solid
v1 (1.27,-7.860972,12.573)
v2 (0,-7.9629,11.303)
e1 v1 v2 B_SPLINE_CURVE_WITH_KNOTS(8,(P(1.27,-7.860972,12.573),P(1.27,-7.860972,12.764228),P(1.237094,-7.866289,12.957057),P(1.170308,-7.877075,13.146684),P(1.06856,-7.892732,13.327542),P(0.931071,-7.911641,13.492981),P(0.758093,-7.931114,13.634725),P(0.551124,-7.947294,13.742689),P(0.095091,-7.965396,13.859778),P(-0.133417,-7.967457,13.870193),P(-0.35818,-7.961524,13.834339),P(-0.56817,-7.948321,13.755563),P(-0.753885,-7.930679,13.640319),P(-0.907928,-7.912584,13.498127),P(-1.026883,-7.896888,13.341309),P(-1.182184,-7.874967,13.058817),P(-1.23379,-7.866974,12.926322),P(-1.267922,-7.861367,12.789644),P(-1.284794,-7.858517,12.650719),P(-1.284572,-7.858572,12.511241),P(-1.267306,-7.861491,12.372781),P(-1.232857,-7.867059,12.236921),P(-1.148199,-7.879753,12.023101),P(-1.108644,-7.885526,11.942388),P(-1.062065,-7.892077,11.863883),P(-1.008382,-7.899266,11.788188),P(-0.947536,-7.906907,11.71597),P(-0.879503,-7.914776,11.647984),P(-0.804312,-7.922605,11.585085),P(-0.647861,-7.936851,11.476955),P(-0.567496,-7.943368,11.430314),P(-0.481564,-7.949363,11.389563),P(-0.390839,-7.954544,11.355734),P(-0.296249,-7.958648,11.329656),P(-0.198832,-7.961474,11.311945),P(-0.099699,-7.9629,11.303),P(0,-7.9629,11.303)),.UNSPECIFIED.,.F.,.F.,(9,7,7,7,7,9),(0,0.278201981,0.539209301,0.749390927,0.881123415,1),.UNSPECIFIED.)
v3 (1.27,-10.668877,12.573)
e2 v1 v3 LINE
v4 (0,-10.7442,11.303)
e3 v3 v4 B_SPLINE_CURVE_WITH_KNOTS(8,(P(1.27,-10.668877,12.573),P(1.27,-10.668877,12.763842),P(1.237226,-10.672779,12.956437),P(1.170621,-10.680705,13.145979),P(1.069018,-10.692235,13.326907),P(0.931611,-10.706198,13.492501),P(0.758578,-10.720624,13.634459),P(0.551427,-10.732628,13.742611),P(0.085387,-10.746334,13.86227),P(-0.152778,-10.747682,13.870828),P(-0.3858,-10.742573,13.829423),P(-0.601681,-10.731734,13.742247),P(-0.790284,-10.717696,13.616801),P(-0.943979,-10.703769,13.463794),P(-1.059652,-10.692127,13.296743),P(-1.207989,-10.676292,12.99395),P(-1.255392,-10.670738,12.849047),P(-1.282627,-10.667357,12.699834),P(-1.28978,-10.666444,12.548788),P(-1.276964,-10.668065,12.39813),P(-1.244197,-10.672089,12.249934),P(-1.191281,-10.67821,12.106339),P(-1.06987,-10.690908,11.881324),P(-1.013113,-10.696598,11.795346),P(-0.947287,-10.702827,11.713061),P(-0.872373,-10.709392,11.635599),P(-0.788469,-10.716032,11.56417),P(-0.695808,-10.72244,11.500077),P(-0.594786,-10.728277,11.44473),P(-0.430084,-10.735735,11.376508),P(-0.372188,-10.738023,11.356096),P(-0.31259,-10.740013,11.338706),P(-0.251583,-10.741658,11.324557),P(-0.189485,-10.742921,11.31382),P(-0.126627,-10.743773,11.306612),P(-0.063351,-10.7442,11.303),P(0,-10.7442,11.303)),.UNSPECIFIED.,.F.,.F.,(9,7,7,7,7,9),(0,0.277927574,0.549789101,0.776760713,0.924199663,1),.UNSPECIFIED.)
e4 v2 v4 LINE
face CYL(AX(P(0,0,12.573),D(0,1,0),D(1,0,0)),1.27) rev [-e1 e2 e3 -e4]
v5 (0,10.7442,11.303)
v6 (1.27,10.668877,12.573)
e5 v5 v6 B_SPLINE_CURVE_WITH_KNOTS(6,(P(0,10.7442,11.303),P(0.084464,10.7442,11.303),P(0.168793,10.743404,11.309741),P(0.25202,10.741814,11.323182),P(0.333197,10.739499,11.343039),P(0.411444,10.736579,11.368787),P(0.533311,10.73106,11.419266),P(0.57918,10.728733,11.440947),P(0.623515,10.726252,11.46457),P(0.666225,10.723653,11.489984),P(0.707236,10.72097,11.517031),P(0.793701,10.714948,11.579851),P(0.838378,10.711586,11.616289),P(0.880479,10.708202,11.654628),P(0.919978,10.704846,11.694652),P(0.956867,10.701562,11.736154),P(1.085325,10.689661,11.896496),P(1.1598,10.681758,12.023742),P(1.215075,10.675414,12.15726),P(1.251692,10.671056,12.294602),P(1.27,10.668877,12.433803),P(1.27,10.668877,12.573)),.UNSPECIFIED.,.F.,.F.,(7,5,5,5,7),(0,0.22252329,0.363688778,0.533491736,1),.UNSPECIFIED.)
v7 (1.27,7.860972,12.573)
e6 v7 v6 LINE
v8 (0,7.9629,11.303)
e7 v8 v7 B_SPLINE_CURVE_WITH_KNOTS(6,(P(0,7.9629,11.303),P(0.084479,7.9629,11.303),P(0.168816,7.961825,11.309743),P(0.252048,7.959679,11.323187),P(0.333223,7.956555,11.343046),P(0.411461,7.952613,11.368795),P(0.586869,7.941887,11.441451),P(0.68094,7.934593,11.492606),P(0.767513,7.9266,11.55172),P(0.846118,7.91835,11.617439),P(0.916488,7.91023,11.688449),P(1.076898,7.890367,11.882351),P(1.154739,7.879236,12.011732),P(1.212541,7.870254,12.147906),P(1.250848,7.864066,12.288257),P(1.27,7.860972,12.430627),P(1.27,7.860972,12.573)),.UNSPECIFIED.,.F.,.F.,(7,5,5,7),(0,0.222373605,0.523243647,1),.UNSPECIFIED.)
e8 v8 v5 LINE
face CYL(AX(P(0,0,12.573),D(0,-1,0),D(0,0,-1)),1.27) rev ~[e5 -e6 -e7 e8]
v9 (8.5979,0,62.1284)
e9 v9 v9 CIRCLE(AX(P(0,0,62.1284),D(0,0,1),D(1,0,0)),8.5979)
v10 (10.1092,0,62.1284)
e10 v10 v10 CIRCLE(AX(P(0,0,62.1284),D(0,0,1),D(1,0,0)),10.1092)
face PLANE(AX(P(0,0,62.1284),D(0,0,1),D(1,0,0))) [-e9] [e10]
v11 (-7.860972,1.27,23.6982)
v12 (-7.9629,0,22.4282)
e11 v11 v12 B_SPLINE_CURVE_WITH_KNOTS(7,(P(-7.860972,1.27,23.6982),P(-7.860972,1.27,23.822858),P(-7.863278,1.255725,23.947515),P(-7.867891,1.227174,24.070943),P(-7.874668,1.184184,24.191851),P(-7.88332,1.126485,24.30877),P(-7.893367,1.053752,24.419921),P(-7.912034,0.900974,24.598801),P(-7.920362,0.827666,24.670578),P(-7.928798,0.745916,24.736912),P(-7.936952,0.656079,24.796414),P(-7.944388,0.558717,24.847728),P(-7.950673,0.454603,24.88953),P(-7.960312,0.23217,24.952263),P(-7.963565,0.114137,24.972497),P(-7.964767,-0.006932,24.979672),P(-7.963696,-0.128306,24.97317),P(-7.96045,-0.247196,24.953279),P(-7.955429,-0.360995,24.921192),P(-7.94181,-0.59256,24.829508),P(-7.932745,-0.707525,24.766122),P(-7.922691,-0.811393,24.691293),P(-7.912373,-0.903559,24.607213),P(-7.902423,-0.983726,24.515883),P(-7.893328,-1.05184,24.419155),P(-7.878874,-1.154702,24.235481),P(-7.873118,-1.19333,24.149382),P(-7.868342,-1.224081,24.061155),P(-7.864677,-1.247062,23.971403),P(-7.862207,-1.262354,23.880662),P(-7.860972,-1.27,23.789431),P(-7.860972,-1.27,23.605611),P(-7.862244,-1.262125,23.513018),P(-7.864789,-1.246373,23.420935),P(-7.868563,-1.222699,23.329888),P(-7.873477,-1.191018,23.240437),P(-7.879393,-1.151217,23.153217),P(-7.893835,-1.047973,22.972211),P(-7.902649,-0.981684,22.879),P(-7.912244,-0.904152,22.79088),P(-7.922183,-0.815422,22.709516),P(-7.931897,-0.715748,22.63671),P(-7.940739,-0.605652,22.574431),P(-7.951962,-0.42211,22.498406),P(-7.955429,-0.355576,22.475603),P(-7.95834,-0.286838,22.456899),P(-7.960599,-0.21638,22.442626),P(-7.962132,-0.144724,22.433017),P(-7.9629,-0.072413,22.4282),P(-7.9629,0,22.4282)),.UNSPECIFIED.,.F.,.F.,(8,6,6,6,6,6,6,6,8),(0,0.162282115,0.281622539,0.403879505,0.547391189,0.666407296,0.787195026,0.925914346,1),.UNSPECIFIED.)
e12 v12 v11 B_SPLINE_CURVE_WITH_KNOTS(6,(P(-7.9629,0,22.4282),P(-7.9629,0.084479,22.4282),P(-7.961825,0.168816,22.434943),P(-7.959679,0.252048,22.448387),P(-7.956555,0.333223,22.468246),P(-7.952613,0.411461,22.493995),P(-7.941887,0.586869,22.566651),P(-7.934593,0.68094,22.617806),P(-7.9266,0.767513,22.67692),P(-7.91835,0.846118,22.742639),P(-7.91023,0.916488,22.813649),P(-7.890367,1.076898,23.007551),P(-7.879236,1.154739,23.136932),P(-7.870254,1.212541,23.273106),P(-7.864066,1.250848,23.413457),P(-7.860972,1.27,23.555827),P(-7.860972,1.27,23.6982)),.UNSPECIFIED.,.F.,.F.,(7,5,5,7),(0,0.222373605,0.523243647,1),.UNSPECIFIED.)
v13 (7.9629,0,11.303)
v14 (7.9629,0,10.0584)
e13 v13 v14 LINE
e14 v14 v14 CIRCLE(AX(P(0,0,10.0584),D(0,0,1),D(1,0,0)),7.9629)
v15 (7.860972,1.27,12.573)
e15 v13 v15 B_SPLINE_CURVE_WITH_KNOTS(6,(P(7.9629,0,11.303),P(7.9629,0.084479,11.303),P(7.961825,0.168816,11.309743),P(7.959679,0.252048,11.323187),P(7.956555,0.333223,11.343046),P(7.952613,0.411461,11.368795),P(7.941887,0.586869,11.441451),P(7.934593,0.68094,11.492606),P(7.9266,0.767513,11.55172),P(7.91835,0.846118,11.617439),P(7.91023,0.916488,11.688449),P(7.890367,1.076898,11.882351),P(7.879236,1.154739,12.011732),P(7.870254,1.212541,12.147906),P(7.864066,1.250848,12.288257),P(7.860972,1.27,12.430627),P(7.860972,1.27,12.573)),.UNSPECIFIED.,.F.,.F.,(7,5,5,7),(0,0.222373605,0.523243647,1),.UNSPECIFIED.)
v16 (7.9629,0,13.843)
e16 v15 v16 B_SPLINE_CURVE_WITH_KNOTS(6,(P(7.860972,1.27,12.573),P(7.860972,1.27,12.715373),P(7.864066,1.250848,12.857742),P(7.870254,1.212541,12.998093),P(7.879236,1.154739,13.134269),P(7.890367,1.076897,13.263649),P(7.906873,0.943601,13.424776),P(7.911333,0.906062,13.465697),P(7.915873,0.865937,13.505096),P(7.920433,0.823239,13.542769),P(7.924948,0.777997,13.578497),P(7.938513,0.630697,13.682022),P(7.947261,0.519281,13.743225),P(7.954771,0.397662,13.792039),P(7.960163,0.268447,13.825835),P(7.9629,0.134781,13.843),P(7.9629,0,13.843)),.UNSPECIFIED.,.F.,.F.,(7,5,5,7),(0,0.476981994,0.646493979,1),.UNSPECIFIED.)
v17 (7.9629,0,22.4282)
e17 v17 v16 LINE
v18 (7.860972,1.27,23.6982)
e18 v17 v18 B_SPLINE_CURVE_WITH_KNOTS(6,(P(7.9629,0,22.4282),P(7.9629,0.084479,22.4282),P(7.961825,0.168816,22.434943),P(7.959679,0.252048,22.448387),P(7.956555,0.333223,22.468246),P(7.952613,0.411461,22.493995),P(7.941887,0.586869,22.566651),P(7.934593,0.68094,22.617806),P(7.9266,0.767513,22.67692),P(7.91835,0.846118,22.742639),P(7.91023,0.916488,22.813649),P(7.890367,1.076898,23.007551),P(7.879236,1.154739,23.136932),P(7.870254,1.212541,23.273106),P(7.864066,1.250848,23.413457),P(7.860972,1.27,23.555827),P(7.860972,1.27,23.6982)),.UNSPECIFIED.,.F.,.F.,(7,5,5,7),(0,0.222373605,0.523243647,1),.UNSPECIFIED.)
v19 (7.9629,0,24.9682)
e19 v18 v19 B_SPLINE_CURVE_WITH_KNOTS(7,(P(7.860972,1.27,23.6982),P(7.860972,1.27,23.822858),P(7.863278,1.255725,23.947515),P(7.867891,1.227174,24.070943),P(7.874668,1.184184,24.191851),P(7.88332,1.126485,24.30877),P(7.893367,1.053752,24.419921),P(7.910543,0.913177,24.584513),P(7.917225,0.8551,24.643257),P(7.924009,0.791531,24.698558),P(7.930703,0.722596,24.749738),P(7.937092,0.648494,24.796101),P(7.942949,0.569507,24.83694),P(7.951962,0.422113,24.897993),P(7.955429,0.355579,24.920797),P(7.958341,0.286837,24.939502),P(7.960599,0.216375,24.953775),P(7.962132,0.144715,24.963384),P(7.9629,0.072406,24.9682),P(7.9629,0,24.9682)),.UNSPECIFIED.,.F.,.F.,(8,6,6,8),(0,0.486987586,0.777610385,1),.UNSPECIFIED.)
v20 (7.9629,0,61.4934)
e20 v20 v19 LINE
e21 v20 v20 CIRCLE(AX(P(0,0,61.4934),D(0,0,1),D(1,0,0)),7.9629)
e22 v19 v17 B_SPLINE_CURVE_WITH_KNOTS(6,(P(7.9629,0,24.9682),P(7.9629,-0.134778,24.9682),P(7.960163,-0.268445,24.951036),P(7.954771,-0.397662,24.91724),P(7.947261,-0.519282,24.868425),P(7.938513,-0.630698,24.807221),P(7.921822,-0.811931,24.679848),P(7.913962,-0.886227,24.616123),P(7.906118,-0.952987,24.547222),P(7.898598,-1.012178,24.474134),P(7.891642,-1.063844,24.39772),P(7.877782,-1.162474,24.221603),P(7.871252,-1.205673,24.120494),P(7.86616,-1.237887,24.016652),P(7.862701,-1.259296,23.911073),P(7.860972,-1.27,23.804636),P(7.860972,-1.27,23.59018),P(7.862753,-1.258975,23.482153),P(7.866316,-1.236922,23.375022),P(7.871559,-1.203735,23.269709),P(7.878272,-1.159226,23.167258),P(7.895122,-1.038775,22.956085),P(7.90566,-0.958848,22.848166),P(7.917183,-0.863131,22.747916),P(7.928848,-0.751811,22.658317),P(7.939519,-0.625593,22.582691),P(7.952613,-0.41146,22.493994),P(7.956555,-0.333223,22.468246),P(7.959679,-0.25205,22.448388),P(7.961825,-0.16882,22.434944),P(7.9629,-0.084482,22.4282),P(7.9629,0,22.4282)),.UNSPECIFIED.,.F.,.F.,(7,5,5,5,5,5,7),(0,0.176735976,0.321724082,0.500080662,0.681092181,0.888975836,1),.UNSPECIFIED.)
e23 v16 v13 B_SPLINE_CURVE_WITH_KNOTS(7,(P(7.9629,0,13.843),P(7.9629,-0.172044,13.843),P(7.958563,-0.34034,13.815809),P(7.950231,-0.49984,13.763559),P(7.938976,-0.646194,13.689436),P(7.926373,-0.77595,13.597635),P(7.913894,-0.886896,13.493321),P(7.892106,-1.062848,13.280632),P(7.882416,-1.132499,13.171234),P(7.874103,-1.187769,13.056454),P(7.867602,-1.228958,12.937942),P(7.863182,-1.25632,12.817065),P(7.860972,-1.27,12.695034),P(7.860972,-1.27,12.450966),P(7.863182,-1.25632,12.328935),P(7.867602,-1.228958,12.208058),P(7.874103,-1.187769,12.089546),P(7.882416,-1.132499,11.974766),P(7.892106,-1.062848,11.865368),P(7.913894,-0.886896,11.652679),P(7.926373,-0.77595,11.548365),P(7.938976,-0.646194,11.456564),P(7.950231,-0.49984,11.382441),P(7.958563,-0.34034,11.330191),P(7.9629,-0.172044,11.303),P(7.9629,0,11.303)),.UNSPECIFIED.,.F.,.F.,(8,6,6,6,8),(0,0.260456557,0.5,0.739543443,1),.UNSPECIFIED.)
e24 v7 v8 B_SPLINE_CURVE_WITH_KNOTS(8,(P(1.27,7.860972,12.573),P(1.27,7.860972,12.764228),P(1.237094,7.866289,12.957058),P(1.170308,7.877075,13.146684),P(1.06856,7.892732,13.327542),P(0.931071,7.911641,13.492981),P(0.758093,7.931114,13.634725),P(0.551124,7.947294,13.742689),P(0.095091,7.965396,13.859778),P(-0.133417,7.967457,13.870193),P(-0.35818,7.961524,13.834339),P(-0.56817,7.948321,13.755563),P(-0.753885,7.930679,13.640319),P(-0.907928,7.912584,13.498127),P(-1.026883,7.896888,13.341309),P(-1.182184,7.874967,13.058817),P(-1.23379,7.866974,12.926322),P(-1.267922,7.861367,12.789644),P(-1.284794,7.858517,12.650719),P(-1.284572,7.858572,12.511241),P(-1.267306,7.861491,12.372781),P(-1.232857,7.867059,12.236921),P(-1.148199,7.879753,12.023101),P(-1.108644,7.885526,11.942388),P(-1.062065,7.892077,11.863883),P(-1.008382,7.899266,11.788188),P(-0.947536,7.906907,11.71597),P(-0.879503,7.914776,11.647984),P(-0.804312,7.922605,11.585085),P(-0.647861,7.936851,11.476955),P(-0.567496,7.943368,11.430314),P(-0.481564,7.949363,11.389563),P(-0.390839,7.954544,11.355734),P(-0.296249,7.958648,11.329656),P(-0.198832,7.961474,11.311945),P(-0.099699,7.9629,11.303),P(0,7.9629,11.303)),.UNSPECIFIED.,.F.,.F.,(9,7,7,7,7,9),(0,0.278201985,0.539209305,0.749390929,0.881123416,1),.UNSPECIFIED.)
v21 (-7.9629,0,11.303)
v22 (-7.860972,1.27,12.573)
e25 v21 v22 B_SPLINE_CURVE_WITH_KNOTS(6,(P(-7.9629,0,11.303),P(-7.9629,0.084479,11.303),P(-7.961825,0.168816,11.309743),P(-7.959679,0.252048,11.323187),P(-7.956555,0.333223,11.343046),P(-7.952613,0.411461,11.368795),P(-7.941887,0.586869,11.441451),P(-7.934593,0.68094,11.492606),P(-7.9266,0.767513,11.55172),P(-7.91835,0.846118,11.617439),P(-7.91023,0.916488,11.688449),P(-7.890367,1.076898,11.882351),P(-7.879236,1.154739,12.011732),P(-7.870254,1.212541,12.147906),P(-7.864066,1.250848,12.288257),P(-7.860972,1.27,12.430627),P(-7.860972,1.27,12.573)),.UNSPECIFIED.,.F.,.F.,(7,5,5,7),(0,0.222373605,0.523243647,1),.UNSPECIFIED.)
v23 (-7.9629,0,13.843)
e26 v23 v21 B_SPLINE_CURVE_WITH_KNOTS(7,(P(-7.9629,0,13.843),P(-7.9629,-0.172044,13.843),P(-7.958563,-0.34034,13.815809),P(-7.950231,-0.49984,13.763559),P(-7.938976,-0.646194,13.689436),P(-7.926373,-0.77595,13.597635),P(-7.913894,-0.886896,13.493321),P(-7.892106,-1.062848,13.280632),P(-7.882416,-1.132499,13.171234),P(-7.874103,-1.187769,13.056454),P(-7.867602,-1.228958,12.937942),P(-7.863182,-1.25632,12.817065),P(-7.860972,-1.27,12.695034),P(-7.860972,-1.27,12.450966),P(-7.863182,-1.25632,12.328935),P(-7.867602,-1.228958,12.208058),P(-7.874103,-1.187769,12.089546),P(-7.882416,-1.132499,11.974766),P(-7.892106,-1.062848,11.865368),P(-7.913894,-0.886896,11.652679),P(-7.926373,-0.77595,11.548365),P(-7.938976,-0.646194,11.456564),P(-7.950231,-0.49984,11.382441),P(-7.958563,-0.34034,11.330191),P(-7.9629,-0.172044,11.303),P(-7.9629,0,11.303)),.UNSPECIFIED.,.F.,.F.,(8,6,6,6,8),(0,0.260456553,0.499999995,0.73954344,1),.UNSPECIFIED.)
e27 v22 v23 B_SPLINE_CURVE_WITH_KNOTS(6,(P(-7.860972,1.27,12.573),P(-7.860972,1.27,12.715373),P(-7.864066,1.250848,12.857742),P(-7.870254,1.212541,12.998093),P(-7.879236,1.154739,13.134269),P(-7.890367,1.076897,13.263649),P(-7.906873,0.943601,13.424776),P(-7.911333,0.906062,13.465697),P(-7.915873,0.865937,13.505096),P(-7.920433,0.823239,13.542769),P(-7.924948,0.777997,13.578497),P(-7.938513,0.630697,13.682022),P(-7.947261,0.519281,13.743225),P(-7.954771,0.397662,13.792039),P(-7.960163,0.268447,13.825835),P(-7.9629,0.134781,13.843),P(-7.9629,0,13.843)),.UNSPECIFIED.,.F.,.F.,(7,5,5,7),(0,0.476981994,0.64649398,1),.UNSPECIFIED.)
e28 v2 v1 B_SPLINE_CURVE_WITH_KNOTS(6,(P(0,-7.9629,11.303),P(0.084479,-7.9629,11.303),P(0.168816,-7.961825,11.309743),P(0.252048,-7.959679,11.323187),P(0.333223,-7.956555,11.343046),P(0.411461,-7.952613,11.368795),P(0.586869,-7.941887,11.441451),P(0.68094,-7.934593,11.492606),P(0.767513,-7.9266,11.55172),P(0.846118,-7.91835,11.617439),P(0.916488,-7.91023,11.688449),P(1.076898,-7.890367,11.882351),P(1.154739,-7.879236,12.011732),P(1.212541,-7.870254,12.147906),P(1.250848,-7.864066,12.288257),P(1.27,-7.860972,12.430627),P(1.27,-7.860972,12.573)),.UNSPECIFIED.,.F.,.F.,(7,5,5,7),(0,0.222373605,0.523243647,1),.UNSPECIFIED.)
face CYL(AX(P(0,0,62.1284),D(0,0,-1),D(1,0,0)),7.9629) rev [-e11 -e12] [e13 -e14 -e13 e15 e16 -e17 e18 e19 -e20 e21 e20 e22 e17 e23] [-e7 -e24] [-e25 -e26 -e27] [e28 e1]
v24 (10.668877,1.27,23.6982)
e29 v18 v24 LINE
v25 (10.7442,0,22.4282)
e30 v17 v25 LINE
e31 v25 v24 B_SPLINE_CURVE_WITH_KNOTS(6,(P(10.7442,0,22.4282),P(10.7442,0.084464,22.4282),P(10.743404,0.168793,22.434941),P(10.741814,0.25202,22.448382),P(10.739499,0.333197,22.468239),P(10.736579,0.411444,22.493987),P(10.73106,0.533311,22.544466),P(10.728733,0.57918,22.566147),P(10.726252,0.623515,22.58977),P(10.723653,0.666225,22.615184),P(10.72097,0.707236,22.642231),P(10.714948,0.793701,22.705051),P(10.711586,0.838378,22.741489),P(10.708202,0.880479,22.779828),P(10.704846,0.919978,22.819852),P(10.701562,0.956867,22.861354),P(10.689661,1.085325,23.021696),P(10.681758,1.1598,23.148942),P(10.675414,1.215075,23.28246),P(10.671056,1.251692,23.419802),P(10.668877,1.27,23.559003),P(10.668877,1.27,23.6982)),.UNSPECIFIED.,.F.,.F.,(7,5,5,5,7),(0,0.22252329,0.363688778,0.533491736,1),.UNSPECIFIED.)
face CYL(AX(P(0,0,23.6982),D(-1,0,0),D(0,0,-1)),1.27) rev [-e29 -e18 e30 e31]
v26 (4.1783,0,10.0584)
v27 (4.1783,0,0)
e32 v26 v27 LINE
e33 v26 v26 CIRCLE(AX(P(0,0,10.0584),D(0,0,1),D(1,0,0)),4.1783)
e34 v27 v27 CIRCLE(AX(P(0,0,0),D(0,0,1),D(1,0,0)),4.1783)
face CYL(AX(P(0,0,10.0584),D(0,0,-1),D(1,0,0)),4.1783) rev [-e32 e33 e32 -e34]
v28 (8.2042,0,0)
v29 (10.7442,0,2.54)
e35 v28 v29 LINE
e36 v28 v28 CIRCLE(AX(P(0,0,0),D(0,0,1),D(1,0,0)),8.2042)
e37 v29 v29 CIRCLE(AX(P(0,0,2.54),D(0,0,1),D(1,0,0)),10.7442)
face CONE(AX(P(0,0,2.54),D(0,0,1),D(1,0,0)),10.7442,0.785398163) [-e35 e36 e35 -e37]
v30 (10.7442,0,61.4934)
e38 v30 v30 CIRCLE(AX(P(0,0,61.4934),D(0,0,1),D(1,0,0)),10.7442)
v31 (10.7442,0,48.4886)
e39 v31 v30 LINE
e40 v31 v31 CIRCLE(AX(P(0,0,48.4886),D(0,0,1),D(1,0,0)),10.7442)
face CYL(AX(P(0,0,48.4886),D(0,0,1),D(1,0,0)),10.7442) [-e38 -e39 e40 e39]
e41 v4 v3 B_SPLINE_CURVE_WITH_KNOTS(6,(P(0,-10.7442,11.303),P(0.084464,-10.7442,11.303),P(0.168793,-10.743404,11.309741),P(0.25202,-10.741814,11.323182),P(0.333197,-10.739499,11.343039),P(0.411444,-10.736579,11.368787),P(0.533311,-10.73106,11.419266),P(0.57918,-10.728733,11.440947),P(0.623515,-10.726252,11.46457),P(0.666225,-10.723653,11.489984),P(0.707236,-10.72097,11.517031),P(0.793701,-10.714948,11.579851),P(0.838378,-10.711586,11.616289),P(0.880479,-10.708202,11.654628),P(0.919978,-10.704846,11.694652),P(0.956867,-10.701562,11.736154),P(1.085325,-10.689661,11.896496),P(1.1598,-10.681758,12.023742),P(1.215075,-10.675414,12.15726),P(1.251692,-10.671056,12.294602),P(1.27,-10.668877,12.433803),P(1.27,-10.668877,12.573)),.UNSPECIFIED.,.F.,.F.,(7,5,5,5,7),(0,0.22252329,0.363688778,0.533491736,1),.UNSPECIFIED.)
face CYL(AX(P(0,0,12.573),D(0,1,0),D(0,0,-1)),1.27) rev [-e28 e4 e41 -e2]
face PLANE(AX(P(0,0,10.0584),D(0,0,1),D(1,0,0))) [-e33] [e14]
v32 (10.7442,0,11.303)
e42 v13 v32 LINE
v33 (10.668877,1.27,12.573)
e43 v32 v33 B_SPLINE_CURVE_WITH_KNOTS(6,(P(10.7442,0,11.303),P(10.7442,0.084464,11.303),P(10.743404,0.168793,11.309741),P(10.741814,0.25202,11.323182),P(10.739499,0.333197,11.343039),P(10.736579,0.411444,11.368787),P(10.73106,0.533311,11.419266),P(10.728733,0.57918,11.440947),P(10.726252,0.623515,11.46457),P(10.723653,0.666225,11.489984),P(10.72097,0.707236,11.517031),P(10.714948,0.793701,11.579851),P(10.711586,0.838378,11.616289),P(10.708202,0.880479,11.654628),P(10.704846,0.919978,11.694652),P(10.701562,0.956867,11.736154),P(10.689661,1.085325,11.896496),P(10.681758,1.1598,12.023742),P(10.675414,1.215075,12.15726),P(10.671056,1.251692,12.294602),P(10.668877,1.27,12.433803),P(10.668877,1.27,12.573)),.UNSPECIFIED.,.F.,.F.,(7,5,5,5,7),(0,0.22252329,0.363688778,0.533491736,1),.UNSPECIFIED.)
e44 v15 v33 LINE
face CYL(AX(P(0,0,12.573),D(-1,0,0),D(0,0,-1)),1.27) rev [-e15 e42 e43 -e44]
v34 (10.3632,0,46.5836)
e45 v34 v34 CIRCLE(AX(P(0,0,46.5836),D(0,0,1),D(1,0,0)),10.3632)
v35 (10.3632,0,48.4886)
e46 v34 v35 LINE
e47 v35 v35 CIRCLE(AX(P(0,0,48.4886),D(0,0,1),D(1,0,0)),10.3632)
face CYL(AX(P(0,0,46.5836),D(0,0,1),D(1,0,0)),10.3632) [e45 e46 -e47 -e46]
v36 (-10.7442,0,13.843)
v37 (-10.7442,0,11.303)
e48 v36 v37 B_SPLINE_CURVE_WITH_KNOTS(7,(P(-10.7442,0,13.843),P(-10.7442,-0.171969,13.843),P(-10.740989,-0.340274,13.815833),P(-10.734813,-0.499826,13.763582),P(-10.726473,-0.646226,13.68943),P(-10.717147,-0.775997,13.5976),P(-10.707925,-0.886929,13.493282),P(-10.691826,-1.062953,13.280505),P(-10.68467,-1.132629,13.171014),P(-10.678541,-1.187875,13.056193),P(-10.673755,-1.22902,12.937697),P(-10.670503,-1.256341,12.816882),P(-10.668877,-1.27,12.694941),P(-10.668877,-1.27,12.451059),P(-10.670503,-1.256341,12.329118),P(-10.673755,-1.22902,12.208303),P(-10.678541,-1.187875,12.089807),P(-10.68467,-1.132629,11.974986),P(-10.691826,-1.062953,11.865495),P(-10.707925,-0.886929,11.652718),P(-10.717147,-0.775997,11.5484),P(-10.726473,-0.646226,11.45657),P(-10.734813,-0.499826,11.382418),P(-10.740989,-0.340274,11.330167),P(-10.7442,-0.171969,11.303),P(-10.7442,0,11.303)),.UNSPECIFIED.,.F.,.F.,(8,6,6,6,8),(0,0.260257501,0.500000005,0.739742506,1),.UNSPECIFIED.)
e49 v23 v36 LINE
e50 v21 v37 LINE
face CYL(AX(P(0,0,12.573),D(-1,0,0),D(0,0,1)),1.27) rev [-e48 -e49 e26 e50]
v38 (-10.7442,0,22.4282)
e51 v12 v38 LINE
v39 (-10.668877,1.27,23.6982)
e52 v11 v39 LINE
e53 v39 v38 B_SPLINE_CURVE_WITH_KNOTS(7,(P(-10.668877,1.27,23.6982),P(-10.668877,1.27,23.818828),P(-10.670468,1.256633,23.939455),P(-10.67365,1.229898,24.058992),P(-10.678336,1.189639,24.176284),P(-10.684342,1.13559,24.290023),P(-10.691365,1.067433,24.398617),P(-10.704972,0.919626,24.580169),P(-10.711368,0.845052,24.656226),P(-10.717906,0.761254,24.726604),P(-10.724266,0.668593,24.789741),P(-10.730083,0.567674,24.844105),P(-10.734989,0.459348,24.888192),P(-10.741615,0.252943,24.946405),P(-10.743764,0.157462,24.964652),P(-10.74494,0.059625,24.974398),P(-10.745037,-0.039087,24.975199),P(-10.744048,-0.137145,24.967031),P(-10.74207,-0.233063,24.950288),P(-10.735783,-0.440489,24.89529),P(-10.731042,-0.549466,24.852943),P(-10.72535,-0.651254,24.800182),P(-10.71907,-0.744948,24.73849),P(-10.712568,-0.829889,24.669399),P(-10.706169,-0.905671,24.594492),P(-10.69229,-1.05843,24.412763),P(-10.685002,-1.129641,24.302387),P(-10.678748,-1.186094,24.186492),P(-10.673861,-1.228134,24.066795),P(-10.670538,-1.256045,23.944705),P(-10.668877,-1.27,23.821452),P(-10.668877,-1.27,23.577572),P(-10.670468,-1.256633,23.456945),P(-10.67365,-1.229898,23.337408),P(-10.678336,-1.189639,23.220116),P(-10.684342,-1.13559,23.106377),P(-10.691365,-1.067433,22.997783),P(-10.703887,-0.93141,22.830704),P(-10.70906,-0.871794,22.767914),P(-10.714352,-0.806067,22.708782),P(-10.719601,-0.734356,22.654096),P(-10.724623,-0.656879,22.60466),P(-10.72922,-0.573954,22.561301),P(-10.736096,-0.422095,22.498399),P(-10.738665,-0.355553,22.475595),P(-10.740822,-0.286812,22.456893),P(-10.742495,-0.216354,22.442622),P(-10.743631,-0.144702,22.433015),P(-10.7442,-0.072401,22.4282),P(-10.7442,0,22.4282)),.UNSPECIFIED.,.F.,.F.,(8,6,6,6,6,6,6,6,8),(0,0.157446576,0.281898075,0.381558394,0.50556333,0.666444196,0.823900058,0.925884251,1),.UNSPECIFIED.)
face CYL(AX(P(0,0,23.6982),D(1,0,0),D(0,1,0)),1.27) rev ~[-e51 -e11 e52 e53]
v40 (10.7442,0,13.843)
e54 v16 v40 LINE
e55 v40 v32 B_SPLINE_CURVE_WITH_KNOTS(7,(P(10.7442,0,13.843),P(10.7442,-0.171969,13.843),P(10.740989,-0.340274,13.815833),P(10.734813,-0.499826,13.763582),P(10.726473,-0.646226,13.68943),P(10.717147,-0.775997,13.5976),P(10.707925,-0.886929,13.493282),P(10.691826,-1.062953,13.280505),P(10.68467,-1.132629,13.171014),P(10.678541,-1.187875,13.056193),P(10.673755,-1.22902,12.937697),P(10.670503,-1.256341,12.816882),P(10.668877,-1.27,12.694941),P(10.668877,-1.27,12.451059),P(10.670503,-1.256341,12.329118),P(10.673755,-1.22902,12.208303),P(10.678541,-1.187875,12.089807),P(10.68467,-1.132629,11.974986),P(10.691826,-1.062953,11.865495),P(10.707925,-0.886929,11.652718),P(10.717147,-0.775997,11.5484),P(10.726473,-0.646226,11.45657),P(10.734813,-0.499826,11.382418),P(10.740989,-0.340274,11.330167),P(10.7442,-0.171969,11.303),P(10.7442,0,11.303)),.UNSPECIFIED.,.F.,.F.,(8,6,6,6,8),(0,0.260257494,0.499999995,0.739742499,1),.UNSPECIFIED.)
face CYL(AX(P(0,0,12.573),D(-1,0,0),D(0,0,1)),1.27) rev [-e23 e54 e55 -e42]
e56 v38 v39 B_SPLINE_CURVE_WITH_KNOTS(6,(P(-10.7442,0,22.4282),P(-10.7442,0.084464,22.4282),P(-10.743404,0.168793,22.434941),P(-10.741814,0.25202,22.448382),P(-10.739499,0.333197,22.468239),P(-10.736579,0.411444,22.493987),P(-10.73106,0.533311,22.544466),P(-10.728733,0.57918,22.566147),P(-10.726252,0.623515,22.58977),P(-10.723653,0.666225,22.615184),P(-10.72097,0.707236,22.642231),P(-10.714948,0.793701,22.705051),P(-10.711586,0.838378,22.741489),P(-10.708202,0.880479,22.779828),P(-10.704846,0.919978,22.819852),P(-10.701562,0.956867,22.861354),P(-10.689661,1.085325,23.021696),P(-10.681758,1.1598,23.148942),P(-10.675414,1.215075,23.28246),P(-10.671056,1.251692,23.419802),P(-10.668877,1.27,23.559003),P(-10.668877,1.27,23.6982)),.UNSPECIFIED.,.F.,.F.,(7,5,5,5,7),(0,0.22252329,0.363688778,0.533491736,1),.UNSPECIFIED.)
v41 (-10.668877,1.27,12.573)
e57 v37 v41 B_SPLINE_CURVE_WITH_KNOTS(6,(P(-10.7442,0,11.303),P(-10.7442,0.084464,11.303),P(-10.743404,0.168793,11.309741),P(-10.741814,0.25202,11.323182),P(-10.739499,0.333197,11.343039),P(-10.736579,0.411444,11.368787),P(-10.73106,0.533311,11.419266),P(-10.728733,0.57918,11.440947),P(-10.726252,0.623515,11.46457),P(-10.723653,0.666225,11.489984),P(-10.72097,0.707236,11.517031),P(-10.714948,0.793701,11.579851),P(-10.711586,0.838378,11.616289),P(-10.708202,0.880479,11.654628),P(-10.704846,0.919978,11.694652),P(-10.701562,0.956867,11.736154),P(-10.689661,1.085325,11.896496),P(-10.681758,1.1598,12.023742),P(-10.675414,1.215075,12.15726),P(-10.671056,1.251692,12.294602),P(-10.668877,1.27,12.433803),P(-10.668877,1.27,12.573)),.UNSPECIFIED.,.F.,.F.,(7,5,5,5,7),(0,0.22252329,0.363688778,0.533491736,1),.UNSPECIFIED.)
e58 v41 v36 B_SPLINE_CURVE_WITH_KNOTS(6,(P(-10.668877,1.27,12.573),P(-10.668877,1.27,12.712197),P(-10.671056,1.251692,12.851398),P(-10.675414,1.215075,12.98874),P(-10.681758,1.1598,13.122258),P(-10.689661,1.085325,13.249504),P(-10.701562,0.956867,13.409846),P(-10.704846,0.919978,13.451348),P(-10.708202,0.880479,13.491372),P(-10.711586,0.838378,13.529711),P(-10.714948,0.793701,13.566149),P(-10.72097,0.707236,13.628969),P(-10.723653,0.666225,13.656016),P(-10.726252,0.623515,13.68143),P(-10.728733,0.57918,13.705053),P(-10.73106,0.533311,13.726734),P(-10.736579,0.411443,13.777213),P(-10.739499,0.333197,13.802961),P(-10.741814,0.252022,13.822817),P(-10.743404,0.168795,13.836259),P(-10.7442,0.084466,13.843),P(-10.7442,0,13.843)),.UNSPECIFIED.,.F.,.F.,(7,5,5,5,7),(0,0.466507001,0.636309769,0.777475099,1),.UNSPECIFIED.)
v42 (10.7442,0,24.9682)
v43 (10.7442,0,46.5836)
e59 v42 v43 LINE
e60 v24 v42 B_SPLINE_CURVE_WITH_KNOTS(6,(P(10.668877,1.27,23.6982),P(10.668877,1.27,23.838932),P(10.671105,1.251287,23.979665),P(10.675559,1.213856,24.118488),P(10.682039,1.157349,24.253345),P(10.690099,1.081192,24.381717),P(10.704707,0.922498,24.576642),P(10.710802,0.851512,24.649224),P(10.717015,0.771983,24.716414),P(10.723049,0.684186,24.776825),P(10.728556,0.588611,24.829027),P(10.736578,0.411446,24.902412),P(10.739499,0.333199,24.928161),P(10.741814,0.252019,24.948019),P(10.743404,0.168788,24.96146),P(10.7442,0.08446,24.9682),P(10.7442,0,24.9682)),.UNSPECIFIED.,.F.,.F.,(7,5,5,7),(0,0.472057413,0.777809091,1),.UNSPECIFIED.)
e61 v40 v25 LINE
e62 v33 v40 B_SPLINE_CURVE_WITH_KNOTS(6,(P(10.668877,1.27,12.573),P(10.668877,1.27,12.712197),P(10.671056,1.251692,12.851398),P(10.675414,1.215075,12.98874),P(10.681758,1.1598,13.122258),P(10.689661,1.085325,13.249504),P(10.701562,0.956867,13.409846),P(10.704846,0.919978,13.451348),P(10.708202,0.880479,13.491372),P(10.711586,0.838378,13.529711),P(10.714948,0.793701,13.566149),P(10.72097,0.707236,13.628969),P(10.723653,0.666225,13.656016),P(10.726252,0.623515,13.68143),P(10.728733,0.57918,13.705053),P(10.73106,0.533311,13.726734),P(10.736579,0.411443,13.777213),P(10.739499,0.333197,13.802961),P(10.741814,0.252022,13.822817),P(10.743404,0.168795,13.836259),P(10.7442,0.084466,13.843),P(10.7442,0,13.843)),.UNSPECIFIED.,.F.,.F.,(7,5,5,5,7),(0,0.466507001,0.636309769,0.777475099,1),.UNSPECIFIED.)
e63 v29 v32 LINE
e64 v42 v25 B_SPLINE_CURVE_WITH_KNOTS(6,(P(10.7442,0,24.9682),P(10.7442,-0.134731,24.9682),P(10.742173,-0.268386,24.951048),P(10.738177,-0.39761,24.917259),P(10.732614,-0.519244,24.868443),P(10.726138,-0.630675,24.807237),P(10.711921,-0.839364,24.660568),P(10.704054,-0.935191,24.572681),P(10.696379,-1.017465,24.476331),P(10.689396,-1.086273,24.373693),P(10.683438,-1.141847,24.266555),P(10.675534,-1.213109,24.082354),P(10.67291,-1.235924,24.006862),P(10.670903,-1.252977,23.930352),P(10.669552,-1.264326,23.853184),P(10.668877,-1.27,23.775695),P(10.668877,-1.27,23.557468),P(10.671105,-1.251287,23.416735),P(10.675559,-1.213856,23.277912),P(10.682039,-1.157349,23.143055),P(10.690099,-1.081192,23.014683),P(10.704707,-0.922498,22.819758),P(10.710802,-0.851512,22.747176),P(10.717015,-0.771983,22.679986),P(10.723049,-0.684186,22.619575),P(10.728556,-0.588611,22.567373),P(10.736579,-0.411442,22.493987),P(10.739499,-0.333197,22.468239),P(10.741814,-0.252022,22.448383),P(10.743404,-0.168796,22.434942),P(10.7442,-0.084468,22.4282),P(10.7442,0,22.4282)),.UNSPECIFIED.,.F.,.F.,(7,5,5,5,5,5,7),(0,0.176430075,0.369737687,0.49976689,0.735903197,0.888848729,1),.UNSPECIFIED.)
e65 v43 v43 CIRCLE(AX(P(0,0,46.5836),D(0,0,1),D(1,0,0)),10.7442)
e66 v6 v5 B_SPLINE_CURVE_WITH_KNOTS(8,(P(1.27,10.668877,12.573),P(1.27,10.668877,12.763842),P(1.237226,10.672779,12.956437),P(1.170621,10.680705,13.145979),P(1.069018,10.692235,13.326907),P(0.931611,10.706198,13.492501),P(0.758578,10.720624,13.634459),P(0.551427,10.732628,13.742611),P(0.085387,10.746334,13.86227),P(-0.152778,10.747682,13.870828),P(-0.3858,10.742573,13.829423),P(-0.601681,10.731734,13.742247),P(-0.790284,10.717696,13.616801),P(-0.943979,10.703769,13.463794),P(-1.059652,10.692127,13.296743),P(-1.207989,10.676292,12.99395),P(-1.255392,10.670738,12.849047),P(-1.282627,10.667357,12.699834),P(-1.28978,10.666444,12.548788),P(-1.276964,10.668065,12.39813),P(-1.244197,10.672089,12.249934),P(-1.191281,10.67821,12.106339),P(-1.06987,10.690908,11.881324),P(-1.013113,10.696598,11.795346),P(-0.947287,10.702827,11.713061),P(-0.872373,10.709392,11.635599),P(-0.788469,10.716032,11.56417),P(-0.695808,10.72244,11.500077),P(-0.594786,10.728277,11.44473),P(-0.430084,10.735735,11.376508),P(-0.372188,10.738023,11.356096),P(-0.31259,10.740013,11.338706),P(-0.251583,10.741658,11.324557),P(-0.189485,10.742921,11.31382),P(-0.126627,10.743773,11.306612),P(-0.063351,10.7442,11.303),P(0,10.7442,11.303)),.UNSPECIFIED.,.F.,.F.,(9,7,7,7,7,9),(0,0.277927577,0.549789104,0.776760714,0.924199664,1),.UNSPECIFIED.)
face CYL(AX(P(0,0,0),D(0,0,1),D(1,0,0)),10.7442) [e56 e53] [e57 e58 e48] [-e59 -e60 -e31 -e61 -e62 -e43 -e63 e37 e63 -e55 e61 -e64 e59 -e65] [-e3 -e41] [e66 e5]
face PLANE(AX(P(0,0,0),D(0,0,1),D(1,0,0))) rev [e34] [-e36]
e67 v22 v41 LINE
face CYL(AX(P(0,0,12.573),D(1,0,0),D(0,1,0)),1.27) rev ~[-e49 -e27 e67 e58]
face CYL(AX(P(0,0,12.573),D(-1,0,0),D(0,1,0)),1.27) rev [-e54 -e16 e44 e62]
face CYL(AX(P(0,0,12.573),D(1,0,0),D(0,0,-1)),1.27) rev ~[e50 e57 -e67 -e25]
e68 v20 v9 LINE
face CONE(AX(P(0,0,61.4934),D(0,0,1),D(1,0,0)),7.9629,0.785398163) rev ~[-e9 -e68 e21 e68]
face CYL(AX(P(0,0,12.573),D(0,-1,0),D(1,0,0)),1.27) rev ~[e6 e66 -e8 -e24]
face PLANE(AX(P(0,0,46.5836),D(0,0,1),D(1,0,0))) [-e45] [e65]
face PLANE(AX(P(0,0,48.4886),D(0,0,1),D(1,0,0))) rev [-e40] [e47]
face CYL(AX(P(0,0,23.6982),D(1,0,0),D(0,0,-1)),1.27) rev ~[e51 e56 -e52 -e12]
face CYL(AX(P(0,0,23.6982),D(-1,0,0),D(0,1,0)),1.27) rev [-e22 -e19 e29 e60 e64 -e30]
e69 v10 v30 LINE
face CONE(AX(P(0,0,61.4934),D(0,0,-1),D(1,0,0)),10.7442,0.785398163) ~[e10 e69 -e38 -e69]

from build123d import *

# Parameters (mm, degrees)
F2_SIZE  = 2.54
F3_SIZE  = 0.635
F5_DEPTH = 12.7
F7_DEPTH = 12.7


with BuildPart() as f1:
    # F0 (on Front) → F1 (revolve)
    with BuildSketch(Plane.XZ):
        Polygon((4.1783, 10.0584), (4.1783, 0), (10.7442, 0), (10.7442, 46.5836), (10.3632, 46.5836), (10.3632, 48.4886), (10.7442, 48.4886), (10.7442, 62.1284), (7.9629, 62.1284), (7.9629, 10.0584), align=None)
    revolve(axis=Axis((0, 0, 31.0642), (0, 0, 1)))

    # F2
    f2_edges = [f1.edges().sort_by_distance(p)[0] for p in [
        (-10.7442, 0, 0),
    ]]
    chamfer(f2_edges, length=F2_SIZE)

    # F3
    f3_edges = [f1.edges().sort_by_distance(p)[0] for p in [
        (-10.7442, 0, 62.1284),
        (-7.9629, 0, 62.1284),
    ]]
    chamfer(f3_edges, length=F3_SIZE)

    # F4 (on Right) → F5 (cut, symmetric)
    with BuildSketch(Plane.YZ):
        with BuildLine():
            ThreePointArc((0, 13.843), (-1.27, 12.573), (0, 11.303))
            Line((0, 11.303), (0, 12.573))
            Line((0, 12.573), (0, 13.843))
        make_face()
        with BuildLine():
            ThreePointArc((1.27, 23.6982), (-0.8980256121, 24.5962256121), (0, 22.4282))
            ThreePointArc((0, 22.4282), (0.8980256121, 22.8001743879), (1.27, 23.6982))
        make_face()
        with BuildLine():
            Line((0, 12.573), (0, 11.303))
            ThreePointArc((0, 11.303), (0.8980256121, 11.6749743879), (1.27, 12.573))
            ThreePointArc((1.27, 12.573), (0.8980256121, 13.4710256121), (0, 13.843))
            Line((0, 13.843), (0, 12.573))
        make_face()
    extrude(amount=F5_DEPTH, both=True, mode=Mode.SUBTRACT)

    # F6 (on Front) → F7 (cut, symmetric)
    with BuildSketch(Plane.XZ):
        with BuildLine():
            ThreePointArc((0, 11.303), (0.8980256121, 11.6749743879), (1.27, 12.573))
            ThreePointArc((1.27, 12.573), (-0.8980256121, 13.4710256121), (0, 11.303))
        make_face()
    extrude(amount=F7_DEPTH, both=True, mode=Mode.SUBTRACT)


solid = f1.part
